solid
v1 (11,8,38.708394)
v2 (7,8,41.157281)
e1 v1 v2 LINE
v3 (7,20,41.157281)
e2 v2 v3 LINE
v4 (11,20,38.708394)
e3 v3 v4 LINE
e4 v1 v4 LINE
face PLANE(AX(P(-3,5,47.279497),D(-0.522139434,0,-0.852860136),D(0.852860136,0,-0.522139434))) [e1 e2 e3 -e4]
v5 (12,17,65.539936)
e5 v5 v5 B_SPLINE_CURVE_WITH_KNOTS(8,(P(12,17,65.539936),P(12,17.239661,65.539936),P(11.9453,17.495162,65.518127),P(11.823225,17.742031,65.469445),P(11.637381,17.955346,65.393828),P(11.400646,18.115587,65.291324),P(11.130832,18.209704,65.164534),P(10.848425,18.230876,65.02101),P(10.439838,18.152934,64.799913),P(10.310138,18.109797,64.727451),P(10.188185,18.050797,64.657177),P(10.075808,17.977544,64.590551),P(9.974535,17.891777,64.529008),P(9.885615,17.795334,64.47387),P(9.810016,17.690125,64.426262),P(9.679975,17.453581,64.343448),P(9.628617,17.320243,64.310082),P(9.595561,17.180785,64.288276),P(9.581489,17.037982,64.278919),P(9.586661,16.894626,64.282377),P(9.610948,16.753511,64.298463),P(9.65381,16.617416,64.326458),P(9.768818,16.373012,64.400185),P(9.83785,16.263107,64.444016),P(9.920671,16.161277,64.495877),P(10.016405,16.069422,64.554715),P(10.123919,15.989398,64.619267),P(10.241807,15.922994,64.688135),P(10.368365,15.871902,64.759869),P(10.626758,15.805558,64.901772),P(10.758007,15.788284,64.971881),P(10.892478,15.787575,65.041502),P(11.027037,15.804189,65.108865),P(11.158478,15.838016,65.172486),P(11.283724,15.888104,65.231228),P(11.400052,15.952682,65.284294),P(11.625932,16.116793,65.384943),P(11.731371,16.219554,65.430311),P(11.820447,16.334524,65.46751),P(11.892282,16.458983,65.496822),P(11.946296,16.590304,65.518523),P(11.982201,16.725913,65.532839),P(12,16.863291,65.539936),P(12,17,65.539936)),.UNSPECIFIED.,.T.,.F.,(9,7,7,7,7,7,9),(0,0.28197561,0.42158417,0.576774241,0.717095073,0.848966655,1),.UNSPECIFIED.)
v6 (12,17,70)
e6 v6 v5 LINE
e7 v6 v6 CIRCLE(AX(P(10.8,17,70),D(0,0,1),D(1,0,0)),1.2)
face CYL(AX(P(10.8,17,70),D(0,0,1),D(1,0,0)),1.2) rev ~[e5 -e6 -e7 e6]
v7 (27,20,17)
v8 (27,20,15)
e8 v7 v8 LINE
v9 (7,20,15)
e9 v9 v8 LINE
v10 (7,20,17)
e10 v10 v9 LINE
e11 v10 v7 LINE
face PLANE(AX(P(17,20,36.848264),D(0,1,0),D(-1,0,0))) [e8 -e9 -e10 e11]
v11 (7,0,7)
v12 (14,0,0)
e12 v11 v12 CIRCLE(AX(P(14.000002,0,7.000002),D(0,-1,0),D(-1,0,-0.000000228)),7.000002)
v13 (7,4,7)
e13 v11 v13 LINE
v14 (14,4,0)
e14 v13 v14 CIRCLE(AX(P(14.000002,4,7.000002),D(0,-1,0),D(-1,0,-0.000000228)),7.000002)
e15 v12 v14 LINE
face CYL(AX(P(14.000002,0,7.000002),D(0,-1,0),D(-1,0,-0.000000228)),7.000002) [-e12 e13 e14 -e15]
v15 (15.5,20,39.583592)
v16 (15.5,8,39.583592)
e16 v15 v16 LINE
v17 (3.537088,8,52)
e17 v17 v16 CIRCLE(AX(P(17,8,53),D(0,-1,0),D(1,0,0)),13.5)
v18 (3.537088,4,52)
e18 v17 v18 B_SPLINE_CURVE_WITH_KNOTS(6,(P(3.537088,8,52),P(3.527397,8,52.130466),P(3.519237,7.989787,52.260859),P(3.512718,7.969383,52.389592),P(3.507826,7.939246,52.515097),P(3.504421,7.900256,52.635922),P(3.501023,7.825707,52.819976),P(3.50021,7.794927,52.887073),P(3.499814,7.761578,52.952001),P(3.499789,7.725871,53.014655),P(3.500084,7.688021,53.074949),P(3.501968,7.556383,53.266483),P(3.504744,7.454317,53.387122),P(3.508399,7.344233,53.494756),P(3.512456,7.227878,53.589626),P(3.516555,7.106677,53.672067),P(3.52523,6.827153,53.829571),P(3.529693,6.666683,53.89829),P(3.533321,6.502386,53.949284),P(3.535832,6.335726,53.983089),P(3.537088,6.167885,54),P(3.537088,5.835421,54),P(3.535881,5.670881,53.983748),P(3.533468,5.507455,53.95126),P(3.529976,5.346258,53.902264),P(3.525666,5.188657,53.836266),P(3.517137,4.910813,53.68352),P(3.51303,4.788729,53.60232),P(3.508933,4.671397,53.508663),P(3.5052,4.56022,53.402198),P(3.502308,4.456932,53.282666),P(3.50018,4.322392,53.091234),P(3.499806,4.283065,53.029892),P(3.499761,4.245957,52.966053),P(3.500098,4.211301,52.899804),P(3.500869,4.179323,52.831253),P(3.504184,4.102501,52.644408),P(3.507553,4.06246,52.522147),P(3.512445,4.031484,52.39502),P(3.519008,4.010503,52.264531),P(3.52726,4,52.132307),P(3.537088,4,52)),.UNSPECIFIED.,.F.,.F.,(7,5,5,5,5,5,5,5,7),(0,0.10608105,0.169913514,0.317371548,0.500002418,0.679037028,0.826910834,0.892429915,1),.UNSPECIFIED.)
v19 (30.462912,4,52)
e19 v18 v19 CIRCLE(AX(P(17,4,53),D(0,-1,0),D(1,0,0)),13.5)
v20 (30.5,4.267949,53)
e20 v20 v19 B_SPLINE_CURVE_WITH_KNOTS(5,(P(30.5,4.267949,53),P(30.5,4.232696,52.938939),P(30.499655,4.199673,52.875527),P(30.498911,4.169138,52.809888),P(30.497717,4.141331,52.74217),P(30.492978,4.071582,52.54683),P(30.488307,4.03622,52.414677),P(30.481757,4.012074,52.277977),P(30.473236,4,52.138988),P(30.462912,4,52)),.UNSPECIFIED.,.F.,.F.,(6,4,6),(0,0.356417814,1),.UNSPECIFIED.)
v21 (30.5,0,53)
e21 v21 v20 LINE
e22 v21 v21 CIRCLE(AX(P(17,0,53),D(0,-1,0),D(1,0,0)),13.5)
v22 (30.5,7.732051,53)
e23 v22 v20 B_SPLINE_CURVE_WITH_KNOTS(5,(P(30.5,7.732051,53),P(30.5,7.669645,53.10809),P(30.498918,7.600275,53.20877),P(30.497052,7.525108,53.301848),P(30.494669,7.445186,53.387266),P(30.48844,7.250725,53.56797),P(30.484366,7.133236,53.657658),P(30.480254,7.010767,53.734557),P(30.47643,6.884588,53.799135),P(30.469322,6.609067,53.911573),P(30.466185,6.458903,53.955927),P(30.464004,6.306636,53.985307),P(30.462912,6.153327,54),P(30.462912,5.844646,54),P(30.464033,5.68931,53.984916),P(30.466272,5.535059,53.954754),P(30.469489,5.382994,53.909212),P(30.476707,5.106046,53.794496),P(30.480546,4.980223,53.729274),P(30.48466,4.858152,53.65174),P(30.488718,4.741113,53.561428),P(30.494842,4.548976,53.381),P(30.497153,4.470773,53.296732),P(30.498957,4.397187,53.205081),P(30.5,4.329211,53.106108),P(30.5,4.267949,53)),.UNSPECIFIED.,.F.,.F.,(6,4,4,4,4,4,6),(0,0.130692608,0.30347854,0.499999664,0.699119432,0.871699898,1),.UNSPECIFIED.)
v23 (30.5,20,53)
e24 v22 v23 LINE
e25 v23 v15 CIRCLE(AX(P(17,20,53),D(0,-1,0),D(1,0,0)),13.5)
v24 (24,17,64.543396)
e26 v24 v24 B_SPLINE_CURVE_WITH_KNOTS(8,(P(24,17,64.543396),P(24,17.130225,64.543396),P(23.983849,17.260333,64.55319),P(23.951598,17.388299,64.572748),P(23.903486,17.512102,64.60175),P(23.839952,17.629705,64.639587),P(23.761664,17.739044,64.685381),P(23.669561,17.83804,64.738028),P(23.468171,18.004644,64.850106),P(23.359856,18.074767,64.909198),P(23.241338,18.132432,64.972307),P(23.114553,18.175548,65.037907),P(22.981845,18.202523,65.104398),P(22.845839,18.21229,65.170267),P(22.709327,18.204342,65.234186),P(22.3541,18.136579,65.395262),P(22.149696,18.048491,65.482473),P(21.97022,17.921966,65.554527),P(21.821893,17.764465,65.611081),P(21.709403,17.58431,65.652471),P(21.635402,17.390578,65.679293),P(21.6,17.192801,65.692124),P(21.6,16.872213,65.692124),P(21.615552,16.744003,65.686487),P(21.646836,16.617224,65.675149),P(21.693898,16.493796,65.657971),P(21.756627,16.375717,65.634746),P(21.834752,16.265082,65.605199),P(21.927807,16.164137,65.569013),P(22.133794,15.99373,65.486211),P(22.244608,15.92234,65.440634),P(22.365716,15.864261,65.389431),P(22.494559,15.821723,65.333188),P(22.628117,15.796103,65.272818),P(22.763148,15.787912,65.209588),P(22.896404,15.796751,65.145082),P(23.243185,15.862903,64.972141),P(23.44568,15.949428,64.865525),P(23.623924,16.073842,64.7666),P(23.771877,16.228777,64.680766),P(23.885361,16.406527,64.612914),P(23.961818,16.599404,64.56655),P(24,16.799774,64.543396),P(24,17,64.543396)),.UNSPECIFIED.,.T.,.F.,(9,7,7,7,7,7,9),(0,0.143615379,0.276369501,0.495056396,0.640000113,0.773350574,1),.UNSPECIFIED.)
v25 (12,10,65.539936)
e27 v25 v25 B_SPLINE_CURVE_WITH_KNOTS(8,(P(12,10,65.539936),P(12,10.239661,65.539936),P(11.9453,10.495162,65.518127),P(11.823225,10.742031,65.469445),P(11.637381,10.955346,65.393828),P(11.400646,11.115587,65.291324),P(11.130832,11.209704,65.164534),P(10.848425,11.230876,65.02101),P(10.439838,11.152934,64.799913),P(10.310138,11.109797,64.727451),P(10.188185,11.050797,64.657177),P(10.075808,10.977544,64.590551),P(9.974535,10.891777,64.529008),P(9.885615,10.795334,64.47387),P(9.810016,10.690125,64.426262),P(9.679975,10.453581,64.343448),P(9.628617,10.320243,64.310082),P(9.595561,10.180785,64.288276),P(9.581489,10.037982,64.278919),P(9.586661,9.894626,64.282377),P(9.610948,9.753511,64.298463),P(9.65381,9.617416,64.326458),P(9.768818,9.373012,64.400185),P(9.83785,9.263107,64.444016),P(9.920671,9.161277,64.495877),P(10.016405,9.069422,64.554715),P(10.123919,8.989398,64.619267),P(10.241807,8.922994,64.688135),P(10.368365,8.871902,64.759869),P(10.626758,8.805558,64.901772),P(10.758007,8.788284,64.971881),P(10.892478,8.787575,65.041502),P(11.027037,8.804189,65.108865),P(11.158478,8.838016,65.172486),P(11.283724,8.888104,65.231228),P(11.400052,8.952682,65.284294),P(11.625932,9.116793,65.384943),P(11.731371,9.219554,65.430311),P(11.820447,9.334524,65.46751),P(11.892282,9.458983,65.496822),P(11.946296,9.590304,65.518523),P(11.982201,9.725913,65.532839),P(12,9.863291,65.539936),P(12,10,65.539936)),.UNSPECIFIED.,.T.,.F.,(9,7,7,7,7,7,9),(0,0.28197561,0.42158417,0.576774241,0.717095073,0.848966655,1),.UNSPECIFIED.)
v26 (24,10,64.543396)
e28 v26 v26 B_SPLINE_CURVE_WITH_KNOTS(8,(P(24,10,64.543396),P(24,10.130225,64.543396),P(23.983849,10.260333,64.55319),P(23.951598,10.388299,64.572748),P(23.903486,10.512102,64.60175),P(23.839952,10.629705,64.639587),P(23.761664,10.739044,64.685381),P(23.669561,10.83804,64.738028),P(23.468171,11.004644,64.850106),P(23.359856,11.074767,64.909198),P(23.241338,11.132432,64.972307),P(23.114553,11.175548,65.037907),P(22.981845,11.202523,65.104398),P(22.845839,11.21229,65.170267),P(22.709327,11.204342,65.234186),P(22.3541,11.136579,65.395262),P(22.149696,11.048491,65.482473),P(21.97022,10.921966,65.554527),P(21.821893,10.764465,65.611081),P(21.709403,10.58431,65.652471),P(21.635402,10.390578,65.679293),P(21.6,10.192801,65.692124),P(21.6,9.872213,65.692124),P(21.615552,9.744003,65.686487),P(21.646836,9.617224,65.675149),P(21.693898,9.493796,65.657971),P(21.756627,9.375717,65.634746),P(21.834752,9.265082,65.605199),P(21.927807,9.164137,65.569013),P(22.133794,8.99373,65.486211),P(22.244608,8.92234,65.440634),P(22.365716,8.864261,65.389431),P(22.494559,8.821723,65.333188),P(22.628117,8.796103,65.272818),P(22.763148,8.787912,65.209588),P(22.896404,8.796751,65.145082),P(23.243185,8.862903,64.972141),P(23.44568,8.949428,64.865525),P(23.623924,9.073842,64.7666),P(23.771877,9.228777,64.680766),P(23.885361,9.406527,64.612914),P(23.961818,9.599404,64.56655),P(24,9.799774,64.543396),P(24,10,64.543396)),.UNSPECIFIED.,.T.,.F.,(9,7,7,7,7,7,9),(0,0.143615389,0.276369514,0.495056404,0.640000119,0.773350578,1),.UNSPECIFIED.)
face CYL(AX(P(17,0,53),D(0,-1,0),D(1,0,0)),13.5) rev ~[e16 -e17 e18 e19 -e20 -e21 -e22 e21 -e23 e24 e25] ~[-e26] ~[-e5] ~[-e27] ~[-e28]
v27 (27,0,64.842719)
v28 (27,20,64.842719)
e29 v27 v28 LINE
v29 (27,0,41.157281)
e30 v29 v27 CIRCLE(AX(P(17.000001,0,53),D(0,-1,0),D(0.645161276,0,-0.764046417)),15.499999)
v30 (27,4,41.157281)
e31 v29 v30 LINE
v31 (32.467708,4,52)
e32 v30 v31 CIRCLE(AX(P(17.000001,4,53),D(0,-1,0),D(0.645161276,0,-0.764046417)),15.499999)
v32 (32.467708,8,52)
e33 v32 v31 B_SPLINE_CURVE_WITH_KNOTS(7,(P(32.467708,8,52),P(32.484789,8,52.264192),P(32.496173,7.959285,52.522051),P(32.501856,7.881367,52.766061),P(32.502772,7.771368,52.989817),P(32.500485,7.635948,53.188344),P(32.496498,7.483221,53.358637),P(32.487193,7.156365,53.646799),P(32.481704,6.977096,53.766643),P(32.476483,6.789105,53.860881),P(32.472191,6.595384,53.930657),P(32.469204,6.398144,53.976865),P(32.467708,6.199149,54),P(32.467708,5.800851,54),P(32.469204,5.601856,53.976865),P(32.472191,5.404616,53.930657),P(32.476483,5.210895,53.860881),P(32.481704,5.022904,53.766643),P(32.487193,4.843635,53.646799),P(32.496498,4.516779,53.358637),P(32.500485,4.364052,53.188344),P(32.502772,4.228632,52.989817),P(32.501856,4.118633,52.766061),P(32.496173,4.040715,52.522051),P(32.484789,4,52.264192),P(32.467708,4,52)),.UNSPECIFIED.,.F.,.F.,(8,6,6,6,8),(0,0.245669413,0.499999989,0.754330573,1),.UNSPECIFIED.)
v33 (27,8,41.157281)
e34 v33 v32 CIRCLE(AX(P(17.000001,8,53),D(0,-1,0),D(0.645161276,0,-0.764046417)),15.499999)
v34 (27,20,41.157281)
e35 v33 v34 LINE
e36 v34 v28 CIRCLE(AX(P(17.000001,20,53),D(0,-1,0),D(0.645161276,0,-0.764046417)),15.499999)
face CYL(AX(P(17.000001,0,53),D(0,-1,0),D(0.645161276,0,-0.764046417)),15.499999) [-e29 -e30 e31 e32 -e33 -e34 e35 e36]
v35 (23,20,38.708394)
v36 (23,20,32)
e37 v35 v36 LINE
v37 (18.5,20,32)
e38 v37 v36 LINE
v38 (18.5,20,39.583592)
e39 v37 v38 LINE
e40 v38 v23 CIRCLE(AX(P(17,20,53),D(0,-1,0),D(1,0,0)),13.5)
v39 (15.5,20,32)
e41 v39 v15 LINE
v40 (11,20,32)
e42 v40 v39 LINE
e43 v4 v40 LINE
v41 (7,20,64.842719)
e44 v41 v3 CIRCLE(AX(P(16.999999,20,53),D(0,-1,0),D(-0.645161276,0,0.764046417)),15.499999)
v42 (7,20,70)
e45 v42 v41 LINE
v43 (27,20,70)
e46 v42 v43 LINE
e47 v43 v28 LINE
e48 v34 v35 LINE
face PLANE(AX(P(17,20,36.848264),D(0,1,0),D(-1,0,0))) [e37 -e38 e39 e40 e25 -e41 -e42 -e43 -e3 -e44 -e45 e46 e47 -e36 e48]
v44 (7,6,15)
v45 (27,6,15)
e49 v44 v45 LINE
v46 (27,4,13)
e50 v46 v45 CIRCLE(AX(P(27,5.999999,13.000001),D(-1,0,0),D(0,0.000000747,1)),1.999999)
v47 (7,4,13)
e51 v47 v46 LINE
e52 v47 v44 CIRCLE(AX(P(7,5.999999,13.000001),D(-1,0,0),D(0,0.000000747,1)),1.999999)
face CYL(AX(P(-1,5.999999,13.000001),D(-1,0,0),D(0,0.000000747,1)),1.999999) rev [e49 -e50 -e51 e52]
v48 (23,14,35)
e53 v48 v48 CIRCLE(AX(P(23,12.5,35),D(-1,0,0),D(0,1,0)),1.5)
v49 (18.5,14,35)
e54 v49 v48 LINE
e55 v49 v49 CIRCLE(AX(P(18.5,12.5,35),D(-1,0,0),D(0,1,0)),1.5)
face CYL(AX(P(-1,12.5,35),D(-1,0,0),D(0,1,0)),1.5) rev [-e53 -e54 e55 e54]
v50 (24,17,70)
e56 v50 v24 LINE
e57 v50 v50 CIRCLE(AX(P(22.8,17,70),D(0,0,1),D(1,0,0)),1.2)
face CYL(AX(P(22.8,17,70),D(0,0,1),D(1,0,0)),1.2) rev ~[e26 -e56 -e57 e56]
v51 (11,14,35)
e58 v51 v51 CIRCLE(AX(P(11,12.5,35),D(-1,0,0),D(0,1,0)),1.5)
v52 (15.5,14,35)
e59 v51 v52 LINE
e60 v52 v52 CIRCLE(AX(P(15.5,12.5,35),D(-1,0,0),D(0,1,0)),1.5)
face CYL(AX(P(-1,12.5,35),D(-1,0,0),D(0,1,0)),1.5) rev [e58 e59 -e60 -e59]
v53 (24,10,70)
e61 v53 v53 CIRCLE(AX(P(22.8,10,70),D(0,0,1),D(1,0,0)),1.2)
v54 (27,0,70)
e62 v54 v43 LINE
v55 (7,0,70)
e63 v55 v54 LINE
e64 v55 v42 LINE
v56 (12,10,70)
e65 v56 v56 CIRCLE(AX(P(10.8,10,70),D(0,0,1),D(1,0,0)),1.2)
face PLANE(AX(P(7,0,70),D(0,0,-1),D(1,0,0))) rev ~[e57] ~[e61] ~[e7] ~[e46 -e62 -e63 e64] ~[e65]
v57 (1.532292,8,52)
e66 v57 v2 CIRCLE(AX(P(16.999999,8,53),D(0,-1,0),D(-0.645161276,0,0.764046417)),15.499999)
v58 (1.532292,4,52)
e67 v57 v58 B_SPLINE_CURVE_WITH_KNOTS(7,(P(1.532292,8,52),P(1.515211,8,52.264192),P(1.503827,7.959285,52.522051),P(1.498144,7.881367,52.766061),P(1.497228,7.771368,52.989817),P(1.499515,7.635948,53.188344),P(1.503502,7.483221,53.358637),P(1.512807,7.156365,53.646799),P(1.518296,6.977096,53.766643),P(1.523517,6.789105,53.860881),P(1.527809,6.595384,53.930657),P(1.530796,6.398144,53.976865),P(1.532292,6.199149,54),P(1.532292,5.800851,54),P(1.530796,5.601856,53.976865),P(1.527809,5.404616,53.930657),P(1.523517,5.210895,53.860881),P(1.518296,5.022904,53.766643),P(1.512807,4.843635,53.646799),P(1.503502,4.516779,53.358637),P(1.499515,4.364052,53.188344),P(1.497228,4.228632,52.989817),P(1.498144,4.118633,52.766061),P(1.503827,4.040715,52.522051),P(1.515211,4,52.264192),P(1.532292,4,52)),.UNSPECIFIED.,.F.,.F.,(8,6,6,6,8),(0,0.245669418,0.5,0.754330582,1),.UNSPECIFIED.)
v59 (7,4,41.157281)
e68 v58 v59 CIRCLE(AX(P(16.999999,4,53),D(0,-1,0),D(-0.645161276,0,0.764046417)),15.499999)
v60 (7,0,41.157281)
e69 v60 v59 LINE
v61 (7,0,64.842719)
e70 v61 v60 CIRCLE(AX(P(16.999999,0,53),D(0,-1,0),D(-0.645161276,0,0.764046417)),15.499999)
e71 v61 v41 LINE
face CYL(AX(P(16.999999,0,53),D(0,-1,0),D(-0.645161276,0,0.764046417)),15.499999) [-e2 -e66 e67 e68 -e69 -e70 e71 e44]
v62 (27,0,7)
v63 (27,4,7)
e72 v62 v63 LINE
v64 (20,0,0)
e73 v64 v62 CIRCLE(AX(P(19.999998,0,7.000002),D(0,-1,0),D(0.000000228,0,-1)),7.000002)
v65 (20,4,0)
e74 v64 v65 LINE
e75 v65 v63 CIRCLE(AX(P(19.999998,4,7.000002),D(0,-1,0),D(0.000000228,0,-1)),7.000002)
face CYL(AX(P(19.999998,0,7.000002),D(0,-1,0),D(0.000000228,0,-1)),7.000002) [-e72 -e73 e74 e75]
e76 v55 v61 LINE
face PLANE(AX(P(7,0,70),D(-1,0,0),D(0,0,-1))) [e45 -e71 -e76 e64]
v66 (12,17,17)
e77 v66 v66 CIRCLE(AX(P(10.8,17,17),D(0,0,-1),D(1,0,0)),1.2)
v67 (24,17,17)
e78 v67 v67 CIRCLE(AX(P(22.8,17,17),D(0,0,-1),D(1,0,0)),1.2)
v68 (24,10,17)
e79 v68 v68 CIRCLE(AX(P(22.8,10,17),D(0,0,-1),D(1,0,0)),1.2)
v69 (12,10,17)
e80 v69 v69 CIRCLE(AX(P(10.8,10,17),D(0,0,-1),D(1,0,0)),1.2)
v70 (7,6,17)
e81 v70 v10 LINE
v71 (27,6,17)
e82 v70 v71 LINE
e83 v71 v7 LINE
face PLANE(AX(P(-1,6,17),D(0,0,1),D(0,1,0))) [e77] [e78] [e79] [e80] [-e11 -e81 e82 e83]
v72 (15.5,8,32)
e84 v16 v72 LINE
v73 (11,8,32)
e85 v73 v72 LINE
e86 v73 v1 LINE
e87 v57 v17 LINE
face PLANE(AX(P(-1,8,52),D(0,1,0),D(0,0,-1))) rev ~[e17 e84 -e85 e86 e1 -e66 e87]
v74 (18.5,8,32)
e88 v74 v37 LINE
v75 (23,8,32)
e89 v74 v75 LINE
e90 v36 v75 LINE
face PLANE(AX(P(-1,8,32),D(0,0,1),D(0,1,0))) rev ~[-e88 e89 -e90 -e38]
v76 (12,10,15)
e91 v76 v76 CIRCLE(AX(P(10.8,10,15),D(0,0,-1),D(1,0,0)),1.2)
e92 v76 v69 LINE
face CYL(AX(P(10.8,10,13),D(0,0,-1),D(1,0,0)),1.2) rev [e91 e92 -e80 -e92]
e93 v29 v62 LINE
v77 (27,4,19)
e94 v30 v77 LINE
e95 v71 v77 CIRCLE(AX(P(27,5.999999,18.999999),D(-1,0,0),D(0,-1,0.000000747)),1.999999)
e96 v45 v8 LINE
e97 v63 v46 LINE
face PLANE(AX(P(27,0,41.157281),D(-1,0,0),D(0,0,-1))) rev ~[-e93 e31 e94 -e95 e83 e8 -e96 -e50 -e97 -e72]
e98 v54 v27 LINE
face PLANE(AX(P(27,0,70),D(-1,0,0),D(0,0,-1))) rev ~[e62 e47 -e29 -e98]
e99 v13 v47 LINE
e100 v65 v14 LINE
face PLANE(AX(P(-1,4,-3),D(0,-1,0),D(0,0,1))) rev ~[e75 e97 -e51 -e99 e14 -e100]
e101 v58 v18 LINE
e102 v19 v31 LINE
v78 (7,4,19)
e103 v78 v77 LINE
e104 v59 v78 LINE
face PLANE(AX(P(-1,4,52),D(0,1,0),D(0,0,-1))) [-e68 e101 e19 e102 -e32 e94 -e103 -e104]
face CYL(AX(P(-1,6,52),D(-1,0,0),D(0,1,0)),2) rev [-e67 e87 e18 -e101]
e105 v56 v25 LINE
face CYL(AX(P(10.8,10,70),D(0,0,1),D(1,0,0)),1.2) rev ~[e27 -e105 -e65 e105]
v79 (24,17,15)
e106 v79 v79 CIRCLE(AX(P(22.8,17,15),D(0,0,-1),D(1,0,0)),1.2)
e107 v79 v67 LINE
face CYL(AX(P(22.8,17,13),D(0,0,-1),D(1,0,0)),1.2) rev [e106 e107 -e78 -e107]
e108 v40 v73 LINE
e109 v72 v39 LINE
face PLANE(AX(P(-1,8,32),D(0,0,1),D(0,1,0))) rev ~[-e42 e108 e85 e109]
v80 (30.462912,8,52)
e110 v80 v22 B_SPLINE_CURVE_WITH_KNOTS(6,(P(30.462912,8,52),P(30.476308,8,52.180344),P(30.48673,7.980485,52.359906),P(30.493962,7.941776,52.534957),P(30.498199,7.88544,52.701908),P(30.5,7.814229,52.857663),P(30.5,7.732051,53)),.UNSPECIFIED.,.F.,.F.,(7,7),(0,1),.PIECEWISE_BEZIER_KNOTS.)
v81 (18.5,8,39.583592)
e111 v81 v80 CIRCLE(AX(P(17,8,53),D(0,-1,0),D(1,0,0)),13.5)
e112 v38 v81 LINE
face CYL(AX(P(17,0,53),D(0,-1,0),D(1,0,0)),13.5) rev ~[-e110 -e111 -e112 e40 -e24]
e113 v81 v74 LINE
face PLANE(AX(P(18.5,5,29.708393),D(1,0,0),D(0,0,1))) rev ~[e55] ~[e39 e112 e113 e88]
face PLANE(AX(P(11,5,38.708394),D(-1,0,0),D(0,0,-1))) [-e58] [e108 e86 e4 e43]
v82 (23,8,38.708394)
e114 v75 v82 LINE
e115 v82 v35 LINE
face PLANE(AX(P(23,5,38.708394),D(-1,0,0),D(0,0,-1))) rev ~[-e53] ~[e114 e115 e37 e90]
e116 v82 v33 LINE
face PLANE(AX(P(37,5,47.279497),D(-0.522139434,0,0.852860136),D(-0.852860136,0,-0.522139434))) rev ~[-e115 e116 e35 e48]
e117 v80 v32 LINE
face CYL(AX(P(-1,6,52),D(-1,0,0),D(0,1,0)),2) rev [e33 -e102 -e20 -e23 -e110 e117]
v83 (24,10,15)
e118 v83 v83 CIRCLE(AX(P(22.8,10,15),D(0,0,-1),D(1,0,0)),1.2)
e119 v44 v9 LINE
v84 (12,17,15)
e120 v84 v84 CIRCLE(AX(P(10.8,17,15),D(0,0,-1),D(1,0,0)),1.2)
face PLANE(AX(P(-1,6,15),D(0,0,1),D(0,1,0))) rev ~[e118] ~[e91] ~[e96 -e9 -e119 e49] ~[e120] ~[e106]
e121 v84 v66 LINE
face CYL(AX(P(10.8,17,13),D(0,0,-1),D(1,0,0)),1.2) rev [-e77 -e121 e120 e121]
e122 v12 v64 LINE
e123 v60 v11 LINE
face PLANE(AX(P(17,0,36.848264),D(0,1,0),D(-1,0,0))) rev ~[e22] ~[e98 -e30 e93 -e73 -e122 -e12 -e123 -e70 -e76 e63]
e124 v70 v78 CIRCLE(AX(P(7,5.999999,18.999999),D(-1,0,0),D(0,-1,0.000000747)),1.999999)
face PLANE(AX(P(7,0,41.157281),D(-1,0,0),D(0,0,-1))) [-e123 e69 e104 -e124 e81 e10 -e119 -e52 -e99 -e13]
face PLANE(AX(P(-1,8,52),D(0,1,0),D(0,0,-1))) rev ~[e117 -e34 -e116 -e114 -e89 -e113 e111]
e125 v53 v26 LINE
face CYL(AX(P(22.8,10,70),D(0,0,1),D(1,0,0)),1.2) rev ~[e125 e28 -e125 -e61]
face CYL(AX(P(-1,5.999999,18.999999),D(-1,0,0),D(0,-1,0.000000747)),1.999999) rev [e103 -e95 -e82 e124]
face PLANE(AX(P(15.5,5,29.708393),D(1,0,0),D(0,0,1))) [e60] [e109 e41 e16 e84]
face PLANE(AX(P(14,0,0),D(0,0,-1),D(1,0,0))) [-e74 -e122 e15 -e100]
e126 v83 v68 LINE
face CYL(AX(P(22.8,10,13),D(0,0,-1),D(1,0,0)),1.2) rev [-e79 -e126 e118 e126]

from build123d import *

# Parameters (mm, degrees)
SKETCH003_R                          = 1.2
EXTRUDE003_DEPTH                     = 6
EXTRUDE004_DEPTH                     = 5
SKETCH002_AS_DRAWN_W                 = 3
SKETCH002_AS_DRAWN_H                 = 17.571103
EXTRUDE002_DEPTH                     = 15
EXTRUDE002_ONTO_SKETCH002_ROLL_ANGLE = 90
SKETCH_R                             = 1.5
EXTRUDE_DEPTH                        = 36
SKETCH001_AS_DRAWN_R                 = 13.5
EXTRUDE001_DEPTH                     = 20
EXTRUDE001_ONTO_SKETCH001_ROLL_ANGLE = 90


with BuildPart() as mounting_holes_top:
    # Sketch003 → Extrude003 (new body)
    with BuildSketch(Plane.XY.offset(70)):
        with Locations((10.8, 17)):
            Circle(SKETCH003_R)
        with Locations((22.8, 17)):
            Circle(SKETCH003_R)
        with Locations((10.8, 10)):
            Circle(SKETCH003_R)
        with Locations((22.8, 10)):
            Circle(SKETCH003_R)
    extrude(amount=-EXTRUDE003_DEPTH)


with BuildPart() as fusion:
    # Sketch003 → Extrude004 (new body)
    with BuildSketch(Plane.XY.offset(70)):
        with Locations((10.8, 17)):
            Circle(SKETCH003_R)
        with Locations((22.8, 17)):
            Circle(SKETCH003_R)
        with Locations((10.8, 10)):
            Circle(SKETCH003_R)
        with Locations((22.8, 10)):
            Circle(SKETCH003_R)
    extrude(amount=EXTRUDE004_DEPTH)


with BuildPart() as fusion_1:
    # Extrude004 placement: moved
    add(fusion.part.moved(Location((0, 0, -57))))

    # Fusion: union Mounting_Holes_Top
    add(mounting_holes_top.part)


with BuildPart() as extrude002:
    # Sketch002 as drawn → Extrude002 (new)
    with BuildSketch(Plane.XY):
        with Locations((0, 38.493945)):
            Rectangle(SKETCH002_AS_DRAWN_W, SKETCH002_AS_DRAWN_H)
        Polygon((6, 38.708394), (6, 29.708394), (20, 29.708394), (20, 47.279497), align=None)
        Polygon((-6, 38.708394), (-6, 29.708394), (-20, 29.708394), (-20, 47.279497), align=None)
    extrude(amount=-EXTRUDE002_DEPTH)


with BuildPart() as extrude002_1:
    # Extrude002 onto Sketch002 roll: moved
    add(extrude002.part.rotate(Axis((0, 0, 0), (1, 0, 0)), EXTRUDE002_ONTO_SKETCH002_ROLL_ANGLE))


with BuildPart() as extrude002_2:
    # Extrude002 onto Sketch002 placement: moved
    add(extrude002_1.part.moved(Location((17, 0, 0))))


with BuildPart() as extrude002_3:
    # Extrude002 placement: moved
    add(extrude002_2.part.moved(Location((0, 5, 0))))


with BuildPart() as extrude_body:
    # Sketch → Extrude (new body)
    with BuildSketch(Plane.YZ):
        with Locations((12.5, 35)):
            Circle(SKETCH_R)
        with BuildLine():
            Line((4, 52), (4, 19))
            ThreePointArc((4, 19), (4.585786, 17.585786), (6, 17))
            Line((6, 17), (45, 17))
            Line((45, 17), (45, 32))
            Line((8, 32), (45, 32))
            Line((8, 52), (8, 32))
            ThreePointArc((8, 52), (6, 54), (4, 52))
        make_face()
        with BuildLine():
            Line((6, 15), (45, 15))
            Line((45, 15), (45, -5))
            Line((45, -5), (6, -5))
            ThreePointArc((4, -3), (4.585786, -4.414214), (6, -5))
            Line((4, -3), (4, 13))
            ThreePointArc((6, 15), (4.585786, 14.414214), (4, 13))
        make_face()
    extrude(amount=EXTRUDE_DEPTH)


with BuildPart() as extrude_body_1:
    # Extrude placement: moved
    add(extrude_body.part.moved(Location((-1, 0, 0))))


with BuildPart() as cut002:
    # Sketch001 as drawn → Extrude001 (new)
    with BuildSketch(Plane.XY):
        with BuildLine():
            Line((-10, 70), (10, 70))
            Line((10, 70), (10, 64.842719))
            ThreePointArc((10, 41.157281), (15.5, 53), (10, 64.842719))
            Line((10, 41.157281), (10, 7))
            ThreePointArc((3, 0), (7.949747, 2.050253), (10, 7))
            Line((-3, 0), (3, 0))
            ThreePointArc((-10, 7), (-7.949747, 2.050253), (-3, 0))
            Line((-10, 41.157281), (-10, 7))
            ThreePointArc((-10, 64.842719), (-15.5, 53), (-10, 41.157281))
            Line((-10, 70), (-10, 64.842719))
        make_face()
        with Locations((0, 53)):
            Circle(SKETCH001_AS_DRAWN_R, mode=Mode.SUBTRACT)
    extrude(amount=-EXTRUDE001_DEPTH)


with BuildPart() as cut002_1:
    # Extrude001 onto Sketch001 roll: moved
    add(cut002.part.rotate(Axis((0, 0, 0), (1, 0, 0)), EXTRUDE001_ONTO_SKETCH001_ROLL_ANGLE))


with BuildPart() as cut002_2:
    # Extrude001 onto Sketch001 placement: moved
    add(cut002_1.part.moved(Location((17, 0, 0))))

    # Cut: cut Extrude body
    add(extrude_body_1.part, mode=Mode.SUBTRACT)

    # Cut001: cut Extrude002
    add(extrude002_3.part, mode=Mode.SUBTRACT)

    # Cut002: cut Fusion
    add(fusion_1.part, mode=Mode.SUBTRACT)


solid = cut002_2.part
